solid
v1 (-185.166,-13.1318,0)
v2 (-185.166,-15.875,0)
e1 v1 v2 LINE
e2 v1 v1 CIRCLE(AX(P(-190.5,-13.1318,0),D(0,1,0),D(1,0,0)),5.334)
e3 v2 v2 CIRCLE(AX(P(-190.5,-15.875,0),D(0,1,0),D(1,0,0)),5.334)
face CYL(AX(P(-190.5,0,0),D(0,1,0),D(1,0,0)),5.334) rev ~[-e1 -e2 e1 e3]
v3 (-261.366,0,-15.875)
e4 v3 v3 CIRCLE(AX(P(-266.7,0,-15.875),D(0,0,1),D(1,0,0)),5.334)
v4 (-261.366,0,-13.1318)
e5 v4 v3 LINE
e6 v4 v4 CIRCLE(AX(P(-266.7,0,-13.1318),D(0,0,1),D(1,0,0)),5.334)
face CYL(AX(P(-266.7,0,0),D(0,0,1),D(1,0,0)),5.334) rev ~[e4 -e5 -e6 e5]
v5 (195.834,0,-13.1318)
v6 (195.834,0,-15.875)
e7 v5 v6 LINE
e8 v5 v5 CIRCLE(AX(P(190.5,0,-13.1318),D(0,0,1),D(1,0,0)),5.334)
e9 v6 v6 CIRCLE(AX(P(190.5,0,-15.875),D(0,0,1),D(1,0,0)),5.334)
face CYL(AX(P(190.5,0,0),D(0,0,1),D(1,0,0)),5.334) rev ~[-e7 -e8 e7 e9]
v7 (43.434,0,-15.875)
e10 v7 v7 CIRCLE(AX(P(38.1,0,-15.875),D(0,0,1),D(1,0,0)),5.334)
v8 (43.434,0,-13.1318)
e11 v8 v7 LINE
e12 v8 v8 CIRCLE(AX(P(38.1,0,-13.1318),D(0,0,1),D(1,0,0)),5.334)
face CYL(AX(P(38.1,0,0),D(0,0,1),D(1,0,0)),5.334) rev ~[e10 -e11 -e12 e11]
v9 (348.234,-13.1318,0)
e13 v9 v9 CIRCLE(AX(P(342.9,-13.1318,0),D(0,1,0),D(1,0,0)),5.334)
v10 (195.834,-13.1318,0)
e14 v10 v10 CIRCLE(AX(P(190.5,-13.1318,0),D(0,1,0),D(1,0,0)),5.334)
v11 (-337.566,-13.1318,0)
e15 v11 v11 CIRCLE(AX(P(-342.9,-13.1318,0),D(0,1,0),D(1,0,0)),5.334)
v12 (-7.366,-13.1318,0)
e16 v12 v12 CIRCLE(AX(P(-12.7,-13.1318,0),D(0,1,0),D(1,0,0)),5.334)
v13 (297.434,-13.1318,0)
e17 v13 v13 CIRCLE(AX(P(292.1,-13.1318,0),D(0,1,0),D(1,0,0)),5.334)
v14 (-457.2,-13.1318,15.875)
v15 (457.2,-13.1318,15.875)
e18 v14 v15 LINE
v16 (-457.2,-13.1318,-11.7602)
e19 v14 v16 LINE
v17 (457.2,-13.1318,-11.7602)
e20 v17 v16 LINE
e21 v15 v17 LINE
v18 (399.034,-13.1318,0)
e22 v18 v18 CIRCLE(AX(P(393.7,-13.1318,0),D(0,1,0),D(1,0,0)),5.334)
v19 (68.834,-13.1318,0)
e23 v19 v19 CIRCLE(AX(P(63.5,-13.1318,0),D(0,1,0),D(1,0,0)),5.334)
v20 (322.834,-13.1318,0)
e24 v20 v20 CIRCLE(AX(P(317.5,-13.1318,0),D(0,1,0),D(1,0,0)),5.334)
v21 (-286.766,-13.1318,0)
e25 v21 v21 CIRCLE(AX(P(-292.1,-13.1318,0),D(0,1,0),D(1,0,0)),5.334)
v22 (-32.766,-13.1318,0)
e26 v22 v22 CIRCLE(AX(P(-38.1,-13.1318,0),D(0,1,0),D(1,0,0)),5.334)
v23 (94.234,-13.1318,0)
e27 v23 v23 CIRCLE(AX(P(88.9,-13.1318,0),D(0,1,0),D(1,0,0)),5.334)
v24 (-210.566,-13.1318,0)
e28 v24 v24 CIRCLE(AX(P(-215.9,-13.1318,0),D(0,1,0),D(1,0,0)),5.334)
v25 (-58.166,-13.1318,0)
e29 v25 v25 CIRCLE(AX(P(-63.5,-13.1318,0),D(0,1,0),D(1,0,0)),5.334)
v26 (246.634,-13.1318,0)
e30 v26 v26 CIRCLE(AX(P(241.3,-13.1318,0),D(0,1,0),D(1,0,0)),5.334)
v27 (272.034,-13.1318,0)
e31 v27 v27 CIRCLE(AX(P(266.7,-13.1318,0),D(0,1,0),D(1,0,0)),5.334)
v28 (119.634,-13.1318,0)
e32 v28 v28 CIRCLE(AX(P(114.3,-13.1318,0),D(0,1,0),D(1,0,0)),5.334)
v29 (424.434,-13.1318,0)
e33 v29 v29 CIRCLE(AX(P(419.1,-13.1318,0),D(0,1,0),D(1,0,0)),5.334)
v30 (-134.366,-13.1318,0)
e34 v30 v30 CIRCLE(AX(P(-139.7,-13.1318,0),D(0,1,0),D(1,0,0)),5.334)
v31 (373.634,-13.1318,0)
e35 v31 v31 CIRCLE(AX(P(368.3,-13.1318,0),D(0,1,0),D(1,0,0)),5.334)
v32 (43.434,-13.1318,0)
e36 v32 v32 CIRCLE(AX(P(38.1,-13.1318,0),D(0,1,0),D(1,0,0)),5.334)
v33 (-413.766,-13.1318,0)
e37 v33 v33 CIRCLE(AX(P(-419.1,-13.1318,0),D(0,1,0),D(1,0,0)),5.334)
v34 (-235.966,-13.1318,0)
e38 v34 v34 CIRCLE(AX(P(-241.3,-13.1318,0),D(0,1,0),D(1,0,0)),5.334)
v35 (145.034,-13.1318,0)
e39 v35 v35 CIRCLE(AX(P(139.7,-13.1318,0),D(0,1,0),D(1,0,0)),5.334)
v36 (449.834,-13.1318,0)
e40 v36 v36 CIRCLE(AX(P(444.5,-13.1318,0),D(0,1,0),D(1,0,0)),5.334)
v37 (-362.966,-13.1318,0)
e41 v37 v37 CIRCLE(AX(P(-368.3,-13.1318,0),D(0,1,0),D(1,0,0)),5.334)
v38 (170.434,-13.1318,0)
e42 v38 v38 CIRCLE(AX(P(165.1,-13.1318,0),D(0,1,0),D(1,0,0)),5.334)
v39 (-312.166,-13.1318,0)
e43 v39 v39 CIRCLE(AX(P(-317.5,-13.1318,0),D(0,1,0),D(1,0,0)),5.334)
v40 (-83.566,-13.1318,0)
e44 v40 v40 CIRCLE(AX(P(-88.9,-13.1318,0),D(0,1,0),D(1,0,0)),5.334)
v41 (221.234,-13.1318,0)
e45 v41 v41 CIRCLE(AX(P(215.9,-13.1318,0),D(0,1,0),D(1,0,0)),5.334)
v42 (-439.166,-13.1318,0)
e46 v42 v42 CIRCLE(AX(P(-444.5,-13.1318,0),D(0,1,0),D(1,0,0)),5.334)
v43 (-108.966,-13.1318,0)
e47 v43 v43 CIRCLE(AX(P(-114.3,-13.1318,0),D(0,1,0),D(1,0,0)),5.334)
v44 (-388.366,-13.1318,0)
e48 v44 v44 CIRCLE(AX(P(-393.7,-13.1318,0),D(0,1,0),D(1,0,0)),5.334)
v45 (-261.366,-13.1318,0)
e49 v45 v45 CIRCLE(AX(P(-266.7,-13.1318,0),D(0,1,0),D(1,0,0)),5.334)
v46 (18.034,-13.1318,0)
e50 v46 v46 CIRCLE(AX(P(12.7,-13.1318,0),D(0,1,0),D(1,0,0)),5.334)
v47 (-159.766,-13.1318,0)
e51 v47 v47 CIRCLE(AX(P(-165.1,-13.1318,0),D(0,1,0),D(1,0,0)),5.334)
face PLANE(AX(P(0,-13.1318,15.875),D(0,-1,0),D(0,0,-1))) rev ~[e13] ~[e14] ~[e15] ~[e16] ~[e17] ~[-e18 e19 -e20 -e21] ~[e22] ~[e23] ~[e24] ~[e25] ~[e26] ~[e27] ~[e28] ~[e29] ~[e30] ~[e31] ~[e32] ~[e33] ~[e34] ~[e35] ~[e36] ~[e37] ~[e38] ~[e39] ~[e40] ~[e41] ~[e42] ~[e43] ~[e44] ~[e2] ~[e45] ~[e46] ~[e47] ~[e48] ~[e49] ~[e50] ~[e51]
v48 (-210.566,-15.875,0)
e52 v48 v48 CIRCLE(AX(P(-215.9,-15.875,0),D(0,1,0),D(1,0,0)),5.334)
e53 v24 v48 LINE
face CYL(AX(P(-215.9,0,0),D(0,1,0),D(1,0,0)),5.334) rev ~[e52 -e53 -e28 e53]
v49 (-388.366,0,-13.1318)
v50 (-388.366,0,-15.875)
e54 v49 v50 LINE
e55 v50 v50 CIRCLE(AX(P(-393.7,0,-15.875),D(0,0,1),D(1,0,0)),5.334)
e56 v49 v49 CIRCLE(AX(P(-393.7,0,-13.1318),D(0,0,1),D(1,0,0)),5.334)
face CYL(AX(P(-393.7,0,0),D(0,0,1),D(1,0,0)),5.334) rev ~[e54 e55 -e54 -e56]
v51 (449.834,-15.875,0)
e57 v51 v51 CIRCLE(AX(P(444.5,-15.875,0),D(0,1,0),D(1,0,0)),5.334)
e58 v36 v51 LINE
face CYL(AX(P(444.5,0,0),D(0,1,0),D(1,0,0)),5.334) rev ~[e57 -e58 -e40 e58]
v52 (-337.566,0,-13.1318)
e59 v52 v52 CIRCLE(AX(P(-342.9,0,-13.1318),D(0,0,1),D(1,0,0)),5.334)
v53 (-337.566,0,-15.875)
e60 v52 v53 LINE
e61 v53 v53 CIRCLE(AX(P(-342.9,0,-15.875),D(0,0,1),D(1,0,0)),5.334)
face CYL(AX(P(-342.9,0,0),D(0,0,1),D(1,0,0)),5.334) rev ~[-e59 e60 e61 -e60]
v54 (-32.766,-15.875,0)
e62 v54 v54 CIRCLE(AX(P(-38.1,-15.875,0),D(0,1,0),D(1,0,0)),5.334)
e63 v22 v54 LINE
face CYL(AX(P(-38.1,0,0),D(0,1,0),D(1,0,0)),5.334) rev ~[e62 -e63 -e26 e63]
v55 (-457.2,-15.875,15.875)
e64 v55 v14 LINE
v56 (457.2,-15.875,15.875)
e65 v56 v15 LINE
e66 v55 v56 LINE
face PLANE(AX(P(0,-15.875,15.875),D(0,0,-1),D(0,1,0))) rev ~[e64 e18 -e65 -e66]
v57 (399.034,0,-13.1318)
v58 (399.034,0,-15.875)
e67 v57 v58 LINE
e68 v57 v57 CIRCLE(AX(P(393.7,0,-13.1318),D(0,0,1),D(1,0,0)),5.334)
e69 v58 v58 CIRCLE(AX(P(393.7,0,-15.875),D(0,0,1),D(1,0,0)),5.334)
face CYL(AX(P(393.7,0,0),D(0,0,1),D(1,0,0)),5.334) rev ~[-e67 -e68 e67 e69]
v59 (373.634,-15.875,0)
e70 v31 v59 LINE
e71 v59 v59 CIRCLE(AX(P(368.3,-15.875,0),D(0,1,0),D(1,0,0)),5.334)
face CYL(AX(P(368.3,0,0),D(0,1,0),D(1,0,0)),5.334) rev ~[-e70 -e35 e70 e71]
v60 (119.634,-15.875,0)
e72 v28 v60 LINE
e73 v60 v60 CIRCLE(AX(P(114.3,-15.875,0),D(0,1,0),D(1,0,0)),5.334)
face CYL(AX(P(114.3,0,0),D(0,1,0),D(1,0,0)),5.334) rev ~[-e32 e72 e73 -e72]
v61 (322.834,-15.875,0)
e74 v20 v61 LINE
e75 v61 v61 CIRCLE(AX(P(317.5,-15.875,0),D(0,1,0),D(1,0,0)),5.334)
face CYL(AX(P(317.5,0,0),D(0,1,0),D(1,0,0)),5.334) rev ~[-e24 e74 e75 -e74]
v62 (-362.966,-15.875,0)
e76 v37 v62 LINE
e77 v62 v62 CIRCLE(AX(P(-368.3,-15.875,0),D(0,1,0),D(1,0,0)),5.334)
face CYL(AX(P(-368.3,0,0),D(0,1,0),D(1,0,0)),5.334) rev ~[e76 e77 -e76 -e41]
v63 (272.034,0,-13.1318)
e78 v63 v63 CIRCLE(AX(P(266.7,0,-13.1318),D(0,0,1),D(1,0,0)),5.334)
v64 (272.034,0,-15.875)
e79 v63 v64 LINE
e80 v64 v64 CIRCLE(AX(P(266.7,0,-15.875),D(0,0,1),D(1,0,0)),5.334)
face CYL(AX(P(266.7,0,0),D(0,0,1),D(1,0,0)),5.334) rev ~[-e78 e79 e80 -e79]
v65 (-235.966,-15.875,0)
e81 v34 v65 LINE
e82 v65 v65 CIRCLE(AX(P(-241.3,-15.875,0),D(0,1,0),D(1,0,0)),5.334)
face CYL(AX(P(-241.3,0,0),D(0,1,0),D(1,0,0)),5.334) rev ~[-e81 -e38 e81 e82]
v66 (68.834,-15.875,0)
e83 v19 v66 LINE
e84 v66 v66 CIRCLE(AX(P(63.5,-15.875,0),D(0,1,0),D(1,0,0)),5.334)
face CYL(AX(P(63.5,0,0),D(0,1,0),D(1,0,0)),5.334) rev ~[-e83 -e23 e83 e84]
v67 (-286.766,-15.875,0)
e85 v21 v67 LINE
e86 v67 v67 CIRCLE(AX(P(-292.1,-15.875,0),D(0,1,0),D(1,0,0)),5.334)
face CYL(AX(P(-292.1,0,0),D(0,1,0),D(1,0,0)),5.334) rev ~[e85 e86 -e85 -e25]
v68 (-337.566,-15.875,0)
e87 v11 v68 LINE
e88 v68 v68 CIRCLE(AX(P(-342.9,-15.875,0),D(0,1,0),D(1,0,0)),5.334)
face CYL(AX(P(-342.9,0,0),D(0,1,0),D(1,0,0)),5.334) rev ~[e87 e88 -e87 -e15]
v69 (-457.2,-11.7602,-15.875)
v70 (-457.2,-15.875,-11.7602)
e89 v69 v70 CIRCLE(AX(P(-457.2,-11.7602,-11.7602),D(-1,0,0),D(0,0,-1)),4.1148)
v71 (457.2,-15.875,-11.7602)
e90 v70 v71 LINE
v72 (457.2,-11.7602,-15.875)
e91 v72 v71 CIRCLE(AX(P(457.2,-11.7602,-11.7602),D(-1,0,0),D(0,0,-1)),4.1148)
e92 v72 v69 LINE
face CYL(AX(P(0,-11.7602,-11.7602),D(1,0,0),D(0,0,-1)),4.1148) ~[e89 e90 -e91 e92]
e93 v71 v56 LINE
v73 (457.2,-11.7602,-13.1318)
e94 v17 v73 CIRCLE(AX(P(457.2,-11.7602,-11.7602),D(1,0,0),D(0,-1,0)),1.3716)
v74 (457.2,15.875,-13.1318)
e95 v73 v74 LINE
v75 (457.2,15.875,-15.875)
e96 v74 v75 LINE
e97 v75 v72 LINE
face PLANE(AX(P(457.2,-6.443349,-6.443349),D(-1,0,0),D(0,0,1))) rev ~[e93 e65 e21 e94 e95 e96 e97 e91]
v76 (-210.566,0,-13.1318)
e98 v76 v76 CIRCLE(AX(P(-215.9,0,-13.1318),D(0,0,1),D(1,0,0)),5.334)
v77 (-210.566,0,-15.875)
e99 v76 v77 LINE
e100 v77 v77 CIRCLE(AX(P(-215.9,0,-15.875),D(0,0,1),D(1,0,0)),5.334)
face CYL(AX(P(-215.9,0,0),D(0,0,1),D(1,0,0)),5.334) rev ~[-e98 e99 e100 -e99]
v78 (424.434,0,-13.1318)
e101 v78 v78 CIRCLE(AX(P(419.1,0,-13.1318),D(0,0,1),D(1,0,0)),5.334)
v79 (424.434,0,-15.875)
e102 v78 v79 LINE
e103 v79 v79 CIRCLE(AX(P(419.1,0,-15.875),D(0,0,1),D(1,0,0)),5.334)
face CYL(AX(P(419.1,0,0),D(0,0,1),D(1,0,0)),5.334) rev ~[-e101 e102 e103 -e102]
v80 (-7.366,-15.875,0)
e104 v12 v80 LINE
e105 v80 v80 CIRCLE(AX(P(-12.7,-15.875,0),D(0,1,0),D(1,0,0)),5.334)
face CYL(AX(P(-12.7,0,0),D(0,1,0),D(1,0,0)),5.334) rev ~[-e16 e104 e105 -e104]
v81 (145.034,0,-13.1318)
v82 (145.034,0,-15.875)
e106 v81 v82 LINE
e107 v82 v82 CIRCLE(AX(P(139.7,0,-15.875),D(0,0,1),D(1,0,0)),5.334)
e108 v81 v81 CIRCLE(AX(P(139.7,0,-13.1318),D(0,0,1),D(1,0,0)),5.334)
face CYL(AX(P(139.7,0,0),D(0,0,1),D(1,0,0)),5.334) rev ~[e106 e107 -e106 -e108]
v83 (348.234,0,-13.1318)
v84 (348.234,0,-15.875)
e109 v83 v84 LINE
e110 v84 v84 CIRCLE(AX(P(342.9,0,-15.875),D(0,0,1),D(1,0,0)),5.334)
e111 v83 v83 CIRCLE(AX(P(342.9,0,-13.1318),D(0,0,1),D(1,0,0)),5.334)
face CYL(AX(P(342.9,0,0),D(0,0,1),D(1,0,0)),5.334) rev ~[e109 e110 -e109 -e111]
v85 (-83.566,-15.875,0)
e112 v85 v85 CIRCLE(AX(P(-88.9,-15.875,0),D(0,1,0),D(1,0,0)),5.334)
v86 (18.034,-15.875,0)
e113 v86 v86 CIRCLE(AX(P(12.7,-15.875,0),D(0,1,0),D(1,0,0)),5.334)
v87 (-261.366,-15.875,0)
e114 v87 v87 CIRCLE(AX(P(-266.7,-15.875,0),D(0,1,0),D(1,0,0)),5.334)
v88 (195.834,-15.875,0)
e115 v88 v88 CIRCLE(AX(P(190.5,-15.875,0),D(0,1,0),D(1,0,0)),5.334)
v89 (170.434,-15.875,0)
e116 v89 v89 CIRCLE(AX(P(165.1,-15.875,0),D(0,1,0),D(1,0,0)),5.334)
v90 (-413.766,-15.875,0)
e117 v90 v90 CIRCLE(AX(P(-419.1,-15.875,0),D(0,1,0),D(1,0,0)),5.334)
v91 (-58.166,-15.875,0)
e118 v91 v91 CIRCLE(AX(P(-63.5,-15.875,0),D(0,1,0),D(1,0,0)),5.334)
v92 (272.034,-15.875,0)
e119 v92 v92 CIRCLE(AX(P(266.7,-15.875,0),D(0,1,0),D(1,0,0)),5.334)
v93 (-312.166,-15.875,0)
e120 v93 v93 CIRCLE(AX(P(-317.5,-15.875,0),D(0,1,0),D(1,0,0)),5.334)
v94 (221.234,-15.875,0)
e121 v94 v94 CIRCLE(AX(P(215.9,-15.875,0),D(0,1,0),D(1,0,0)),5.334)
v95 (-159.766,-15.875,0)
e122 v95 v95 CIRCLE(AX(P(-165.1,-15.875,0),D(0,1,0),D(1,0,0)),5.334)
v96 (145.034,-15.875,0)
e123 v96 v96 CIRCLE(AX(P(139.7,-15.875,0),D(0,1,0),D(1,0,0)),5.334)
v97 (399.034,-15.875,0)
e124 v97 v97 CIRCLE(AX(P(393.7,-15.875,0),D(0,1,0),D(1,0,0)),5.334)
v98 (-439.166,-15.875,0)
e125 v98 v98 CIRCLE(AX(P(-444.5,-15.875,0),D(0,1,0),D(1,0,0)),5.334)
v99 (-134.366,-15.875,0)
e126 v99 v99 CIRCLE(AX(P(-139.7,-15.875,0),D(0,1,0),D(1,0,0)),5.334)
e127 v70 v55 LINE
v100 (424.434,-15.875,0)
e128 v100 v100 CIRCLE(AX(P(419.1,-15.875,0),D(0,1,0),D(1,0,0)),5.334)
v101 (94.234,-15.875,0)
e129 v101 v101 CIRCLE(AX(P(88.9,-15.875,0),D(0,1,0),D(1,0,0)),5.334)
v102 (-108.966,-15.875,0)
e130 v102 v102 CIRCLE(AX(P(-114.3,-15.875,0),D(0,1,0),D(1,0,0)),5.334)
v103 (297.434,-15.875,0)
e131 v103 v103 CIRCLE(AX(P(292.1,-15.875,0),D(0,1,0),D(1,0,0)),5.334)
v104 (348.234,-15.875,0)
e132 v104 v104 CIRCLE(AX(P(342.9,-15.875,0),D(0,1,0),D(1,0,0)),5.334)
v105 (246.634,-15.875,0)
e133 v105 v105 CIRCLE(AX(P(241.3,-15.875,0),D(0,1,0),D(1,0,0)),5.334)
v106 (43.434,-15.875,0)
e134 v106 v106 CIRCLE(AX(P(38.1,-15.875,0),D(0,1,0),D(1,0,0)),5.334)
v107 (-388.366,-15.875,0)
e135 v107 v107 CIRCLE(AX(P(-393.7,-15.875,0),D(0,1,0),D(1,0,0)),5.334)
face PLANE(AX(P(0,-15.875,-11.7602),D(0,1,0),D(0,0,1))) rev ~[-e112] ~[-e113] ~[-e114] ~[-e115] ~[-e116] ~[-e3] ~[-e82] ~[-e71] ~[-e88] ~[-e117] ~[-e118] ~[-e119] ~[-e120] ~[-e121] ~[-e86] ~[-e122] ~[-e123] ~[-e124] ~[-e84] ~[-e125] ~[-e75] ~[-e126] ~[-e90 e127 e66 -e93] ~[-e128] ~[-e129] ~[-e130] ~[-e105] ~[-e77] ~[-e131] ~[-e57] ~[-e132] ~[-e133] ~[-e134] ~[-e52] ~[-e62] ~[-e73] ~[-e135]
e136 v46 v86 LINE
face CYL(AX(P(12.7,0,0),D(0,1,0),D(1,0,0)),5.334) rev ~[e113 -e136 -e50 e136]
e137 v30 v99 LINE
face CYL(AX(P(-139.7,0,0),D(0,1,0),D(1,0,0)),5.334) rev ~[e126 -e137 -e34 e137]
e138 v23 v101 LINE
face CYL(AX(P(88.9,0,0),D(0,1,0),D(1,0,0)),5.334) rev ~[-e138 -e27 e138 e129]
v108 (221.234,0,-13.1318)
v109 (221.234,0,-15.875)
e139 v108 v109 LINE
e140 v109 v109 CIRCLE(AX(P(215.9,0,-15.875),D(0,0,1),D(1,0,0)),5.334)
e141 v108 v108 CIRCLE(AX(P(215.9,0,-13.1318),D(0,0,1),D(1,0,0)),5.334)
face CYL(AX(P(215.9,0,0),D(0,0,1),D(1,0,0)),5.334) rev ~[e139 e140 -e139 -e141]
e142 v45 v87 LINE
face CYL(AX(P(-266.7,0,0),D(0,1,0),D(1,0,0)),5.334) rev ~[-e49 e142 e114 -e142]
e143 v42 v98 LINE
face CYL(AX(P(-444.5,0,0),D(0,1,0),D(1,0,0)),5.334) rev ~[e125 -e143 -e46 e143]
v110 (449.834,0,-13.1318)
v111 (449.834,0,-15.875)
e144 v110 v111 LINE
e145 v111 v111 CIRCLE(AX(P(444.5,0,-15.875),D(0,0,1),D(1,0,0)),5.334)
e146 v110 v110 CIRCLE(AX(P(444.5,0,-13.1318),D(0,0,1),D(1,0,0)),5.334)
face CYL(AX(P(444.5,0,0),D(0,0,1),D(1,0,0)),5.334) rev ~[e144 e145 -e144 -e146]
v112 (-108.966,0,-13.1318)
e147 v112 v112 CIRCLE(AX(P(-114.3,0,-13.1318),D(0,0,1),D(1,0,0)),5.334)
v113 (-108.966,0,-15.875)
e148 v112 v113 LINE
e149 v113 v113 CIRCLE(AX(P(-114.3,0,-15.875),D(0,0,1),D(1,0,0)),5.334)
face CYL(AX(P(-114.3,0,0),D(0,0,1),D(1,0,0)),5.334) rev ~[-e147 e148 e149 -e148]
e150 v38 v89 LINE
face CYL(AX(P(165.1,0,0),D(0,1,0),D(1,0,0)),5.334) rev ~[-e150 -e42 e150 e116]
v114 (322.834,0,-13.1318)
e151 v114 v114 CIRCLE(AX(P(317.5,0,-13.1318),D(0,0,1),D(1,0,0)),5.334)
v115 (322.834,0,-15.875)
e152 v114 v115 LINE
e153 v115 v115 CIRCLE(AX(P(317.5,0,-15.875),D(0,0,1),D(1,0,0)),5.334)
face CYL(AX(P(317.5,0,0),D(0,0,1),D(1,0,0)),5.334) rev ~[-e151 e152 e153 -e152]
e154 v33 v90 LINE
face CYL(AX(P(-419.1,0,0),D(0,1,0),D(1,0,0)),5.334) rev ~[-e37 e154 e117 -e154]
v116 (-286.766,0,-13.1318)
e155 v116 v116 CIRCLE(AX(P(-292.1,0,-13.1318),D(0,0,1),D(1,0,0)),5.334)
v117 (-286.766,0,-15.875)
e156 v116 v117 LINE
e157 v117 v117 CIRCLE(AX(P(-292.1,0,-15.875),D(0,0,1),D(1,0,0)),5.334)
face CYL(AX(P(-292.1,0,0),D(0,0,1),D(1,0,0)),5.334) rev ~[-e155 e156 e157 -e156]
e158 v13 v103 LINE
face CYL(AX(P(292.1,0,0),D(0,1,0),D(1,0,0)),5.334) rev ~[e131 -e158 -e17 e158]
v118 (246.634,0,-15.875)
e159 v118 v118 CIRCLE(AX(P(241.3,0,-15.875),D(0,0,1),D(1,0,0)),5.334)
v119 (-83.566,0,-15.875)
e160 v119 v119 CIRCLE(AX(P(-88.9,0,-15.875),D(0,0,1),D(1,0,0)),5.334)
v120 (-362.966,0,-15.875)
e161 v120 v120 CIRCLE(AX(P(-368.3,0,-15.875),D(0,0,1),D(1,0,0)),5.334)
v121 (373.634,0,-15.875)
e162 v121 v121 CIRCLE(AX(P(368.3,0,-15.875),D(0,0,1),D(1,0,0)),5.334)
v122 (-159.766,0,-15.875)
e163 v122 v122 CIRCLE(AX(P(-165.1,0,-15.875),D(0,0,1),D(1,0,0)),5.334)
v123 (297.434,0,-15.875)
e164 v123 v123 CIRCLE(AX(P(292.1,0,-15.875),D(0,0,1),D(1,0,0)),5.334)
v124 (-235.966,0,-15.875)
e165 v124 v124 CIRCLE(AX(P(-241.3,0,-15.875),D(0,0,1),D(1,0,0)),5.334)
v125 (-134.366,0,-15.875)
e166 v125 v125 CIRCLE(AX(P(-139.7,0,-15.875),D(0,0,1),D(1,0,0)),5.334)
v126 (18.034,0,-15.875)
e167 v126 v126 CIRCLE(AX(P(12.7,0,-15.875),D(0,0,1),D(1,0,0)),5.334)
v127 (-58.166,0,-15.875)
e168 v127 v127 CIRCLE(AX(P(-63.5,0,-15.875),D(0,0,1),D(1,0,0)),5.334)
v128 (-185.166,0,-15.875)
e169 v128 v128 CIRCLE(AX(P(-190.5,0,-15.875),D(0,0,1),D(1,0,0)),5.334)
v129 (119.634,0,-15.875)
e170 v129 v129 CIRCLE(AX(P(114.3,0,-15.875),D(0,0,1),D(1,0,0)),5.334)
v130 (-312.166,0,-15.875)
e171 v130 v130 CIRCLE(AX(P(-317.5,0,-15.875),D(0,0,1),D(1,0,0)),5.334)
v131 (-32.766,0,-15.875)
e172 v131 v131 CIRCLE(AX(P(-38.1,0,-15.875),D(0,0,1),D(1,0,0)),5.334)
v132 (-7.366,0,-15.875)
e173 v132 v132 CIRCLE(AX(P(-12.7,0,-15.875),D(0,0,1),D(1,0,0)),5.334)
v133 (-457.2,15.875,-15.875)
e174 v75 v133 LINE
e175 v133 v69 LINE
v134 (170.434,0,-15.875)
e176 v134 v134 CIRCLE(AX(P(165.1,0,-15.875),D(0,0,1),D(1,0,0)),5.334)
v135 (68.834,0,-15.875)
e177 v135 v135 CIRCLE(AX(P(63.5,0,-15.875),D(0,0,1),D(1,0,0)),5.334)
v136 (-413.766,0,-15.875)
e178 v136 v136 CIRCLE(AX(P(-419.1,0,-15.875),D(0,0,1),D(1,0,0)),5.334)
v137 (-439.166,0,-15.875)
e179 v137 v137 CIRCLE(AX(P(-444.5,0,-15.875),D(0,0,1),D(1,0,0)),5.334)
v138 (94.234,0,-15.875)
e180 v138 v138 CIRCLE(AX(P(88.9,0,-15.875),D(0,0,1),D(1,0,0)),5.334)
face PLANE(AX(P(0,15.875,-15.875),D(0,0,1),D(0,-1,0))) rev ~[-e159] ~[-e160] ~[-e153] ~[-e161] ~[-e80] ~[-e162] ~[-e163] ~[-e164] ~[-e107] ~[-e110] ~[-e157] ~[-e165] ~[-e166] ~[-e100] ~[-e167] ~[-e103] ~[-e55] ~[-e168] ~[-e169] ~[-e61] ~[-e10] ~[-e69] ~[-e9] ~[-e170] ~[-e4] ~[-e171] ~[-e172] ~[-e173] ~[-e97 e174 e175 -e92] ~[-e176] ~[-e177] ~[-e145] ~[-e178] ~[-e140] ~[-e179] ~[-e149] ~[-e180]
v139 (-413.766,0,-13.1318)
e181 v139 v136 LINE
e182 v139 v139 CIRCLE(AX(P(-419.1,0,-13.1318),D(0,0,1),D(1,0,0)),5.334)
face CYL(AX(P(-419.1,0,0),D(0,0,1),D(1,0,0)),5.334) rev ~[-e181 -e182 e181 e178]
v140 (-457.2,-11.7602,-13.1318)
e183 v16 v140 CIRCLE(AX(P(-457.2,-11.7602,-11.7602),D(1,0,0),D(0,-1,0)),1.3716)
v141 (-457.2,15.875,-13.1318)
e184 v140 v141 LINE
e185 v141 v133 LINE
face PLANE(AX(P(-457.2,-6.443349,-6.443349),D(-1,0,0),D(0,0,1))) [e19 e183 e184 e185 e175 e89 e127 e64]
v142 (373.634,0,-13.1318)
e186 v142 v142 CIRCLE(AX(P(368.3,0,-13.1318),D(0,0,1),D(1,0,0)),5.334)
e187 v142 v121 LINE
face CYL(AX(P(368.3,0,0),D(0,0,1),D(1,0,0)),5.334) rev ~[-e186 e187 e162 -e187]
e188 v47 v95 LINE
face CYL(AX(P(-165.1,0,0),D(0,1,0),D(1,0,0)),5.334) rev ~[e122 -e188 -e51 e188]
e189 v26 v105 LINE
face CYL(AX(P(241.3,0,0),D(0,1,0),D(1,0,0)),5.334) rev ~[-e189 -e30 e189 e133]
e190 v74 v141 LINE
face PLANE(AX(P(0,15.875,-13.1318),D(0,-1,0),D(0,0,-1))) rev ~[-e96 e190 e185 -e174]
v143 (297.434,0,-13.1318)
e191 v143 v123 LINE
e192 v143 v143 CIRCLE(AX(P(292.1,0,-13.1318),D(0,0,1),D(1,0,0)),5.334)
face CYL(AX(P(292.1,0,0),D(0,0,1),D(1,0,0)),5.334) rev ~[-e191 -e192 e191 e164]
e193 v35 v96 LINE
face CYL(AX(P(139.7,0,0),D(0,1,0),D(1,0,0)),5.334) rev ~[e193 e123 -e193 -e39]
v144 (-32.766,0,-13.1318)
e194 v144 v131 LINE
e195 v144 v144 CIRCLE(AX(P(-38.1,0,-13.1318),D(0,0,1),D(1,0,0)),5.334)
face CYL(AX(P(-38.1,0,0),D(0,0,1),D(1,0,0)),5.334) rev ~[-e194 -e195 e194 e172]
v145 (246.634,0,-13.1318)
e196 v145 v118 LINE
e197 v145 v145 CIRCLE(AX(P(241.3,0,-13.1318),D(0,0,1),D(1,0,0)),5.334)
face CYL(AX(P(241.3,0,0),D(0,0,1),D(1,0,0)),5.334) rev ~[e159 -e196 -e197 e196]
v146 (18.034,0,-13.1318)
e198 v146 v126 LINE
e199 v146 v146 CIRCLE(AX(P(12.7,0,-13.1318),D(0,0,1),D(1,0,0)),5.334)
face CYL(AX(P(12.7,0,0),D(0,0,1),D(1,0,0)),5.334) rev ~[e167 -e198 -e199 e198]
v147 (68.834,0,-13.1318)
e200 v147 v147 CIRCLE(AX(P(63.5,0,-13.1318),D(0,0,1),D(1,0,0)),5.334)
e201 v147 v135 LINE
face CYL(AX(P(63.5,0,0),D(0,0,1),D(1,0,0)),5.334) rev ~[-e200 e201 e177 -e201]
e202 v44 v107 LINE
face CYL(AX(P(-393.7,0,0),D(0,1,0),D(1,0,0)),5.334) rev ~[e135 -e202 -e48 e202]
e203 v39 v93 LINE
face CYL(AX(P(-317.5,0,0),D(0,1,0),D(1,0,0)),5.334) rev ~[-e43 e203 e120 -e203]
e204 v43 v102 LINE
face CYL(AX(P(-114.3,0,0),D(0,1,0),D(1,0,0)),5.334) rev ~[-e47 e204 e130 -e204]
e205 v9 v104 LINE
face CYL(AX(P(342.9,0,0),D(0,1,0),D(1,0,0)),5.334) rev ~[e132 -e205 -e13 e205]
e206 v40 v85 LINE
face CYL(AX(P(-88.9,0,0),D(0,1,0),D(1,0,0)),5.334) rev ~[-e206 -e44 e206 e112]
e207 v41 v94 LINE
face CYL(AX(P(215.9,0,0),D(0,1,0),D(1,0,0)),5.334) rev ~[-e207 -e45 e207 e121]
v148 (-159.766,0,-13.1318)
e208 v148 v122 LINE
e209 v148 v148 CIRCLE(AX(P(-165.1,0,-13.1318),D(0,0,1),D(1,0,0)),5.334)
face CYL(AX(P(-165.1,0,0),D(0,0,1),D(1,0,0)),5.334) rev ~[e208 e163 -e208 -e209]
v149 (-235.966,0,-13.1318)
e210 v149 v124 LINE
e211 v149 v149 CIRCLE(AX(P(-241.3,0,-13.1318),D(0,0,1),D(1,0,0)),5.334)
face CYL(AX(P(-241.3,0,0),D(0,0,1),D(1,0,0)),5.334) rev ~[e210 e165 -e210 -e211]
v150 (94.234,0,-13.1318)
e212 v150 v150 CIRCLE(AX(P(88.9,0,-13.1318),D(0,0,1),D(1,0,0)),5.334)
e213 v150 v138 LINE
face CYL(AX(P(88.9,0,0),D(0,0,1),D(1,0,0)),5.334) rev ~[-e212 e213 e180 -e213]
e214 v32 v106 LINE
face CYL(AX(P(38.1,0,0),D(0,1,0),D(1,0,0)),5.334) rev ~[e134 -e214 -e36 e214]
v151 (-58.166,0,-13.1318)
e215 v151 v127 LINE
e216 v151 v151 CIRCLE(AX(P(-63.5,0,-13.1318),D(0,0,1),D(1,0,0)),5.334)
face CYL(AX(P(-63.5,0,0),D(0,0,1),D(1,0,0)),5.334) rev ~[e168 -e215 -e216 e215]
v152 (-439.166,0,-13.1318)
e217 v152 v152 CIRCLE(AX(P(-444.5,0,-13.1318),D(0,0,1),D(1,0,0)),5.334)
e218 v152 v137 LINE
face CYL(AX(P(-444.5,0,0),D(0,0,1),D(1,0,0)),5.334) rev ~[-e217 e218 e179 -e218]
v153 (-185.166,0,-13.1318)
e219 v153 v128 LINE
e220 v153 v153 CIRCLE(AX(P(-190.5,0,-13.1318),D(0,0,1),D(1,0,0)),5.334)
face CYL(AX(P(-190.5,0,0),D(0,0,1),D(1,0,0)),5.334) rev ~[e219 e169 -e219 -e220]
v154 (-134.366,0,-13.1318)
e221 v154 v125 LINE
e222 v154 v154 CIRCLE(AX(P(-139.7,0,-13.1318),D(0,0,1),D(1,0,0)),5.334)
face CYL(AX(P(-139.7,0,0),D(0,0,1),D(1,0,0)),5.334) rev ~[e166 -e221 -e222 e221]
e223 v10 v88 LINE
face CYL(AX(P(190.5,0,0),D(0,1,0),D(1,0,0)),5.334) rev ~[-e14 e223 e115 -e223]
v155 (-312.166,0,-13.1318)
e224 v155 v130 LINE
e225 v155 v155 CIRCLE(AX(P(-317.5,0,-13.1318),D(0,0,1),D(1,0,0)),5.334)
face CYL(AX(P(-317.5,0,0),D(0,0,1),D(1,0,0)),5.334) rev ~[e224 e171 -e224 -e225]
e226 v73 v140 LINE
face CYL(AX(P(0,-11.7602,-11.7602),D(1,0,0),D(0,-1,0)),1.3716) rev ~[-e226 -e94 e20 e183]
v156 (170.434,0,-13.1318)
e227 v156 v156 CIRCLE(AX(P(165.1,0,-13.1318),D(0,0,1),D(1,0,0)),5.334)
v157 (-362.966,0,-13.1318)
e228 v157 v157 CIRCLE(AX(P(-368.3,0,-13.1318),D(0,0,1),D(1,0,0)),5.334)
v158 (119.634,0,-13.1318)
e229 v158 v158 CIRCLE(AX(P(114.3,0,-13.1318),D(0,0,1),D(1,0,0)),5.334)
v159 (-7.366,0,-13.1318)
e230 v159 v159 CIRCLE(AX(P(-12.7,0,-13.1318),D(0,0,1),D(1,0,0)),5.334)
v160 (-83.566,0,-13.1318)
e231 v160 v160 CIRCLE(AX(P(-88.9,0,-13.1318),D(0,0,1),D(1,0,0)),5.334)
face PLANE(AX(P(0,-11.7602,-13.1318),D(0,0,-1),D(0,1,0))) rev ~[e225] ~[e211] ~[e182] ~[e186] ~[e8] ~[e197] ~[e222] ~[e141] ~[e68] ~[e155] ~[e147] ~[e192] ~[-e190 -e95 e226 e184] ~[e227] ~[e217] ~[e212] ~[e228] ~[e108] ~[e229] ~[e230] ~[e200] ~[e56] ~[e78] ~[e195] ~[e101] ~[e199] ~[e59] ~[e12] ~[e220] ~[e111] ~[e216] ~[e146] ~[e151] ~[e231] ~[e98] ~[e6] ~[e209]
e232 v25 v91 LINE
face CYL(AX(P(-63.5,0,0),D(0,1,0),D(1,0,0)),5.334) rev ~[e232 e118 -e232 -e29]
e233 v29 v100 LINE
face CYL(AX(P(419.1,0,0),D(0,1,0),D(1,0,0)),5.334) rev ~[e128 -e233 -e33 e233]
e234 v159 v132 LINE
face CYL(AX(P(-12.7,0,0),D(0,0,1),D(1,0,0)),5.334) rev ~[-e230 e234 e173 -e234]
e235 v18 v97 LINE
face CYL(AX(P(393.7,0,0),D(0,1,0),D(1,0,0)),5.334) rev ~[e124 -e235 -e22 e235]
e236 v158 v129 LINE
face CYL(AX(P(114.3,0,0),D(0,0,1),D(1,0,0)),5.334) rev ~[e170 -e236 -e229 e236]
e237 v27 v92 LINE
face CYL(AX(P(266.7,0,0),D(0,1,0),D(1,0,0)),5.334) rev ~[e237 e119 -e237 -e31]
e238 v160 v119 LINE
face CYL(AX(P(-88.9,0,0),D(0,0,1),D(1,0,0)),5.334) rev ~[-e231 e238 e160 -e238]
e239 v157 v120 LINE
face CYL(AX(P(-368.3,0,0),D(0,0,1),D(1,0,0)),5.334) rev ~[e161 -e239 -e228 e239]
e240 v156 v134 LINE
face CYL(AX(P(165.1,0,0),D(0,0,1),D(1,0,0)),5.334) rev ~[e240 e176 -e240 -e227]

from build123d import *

# Parameters (mm, degrees)
BOSS_EXTRUDE1_DEPTH      = 457.2
BOSS_EXTRUDE1_DEPTH_BACK = 457.2
SKETCH5_R                = 5.334
CUT_EXTRUDE1_DEPTH       = 16.875
SKETCH6_R                = 5.334
CUT_EXTRUDE2_DEPTH       = 16.875
LPATTERN1_COUNT          = 36
LPATTERN1_PITCH          = 25.4


with BuildPart() as part:
    # Sketch4 → Boss-Extrude1 (new body, two sides)
    with BuildSketch(Plane(origin=(0, 0, 0), x_dir=(0, 0, -1), z_dir=(1, 0, 0))) as boss_extrude1_sk:
        with BuildLine():
            Line((-15.875, -13.1318), (11.7602, -13.1318))
            ThreePointArc((11.7602, -13.1318), (12.730067661, -12.730067661), (13.1318, -11.7602))
            Line((13.1318, -11.7602), (13.1318, 15.875))
            Line((13.1318, 15.875), (15.875, 15.875))
            Line((15.875, 15.875), (15.875, -11.7602))
            ThreePointArc((15.875, -11.7602), (14.669802983, -14.669802983), (11.7602, -15.875))
            Line((11.7602, -15.875), (-15.875, -15.875))
            Line((-15.875, -15.875), (-15.875, -13.1318))
        make_face()
    extrude(amount=BOSS_EXTRUDE1_DEPTH)
    extrude(boss_extrude1_sk.sketch, amount=-BOSS_EXTRUDE1_DEPTH_BACK)

    # Sketch5 → Cut-Extrude1 (cut, through all)
    with BuildSketch(Plane.XY):
        with Locations((444.5, 0)):
            Circle(SKETCH5_R)
    cut_extrude1 = extrude(amount=-CUT_EXTRUDE1_DEPTH, mode=Mode.SUBTRACT)

    # Sketch6 → Cut-Extrude2 (cut, through all)
    with BuildSketch(Plane(origin=(0, 0, 0), x_dir=(1, 0, 0), z_dir=(0, 1, 0))):
        with Locations((444.5, 0)):
            Circle(SKETCH6_R)
    cut_extrude2 = extrude(amount=-CUT_EXTRUDE2_DEPTH, mode=Mode.SUBTRACT)

    # LPattern1: Cut-Extrude1, Cut-Extrude2 ×36
    with Locations(*[(-i * LPATTERN1_PITCH, 0, 0) for i in range(1, LPATTERN1_COUNT)]):
        add(cut_extrude1, mode=Mode.SUBTRACT)
        add(cut_extrude2, mode=Mode.SUBTRACT)


solid = part.part
